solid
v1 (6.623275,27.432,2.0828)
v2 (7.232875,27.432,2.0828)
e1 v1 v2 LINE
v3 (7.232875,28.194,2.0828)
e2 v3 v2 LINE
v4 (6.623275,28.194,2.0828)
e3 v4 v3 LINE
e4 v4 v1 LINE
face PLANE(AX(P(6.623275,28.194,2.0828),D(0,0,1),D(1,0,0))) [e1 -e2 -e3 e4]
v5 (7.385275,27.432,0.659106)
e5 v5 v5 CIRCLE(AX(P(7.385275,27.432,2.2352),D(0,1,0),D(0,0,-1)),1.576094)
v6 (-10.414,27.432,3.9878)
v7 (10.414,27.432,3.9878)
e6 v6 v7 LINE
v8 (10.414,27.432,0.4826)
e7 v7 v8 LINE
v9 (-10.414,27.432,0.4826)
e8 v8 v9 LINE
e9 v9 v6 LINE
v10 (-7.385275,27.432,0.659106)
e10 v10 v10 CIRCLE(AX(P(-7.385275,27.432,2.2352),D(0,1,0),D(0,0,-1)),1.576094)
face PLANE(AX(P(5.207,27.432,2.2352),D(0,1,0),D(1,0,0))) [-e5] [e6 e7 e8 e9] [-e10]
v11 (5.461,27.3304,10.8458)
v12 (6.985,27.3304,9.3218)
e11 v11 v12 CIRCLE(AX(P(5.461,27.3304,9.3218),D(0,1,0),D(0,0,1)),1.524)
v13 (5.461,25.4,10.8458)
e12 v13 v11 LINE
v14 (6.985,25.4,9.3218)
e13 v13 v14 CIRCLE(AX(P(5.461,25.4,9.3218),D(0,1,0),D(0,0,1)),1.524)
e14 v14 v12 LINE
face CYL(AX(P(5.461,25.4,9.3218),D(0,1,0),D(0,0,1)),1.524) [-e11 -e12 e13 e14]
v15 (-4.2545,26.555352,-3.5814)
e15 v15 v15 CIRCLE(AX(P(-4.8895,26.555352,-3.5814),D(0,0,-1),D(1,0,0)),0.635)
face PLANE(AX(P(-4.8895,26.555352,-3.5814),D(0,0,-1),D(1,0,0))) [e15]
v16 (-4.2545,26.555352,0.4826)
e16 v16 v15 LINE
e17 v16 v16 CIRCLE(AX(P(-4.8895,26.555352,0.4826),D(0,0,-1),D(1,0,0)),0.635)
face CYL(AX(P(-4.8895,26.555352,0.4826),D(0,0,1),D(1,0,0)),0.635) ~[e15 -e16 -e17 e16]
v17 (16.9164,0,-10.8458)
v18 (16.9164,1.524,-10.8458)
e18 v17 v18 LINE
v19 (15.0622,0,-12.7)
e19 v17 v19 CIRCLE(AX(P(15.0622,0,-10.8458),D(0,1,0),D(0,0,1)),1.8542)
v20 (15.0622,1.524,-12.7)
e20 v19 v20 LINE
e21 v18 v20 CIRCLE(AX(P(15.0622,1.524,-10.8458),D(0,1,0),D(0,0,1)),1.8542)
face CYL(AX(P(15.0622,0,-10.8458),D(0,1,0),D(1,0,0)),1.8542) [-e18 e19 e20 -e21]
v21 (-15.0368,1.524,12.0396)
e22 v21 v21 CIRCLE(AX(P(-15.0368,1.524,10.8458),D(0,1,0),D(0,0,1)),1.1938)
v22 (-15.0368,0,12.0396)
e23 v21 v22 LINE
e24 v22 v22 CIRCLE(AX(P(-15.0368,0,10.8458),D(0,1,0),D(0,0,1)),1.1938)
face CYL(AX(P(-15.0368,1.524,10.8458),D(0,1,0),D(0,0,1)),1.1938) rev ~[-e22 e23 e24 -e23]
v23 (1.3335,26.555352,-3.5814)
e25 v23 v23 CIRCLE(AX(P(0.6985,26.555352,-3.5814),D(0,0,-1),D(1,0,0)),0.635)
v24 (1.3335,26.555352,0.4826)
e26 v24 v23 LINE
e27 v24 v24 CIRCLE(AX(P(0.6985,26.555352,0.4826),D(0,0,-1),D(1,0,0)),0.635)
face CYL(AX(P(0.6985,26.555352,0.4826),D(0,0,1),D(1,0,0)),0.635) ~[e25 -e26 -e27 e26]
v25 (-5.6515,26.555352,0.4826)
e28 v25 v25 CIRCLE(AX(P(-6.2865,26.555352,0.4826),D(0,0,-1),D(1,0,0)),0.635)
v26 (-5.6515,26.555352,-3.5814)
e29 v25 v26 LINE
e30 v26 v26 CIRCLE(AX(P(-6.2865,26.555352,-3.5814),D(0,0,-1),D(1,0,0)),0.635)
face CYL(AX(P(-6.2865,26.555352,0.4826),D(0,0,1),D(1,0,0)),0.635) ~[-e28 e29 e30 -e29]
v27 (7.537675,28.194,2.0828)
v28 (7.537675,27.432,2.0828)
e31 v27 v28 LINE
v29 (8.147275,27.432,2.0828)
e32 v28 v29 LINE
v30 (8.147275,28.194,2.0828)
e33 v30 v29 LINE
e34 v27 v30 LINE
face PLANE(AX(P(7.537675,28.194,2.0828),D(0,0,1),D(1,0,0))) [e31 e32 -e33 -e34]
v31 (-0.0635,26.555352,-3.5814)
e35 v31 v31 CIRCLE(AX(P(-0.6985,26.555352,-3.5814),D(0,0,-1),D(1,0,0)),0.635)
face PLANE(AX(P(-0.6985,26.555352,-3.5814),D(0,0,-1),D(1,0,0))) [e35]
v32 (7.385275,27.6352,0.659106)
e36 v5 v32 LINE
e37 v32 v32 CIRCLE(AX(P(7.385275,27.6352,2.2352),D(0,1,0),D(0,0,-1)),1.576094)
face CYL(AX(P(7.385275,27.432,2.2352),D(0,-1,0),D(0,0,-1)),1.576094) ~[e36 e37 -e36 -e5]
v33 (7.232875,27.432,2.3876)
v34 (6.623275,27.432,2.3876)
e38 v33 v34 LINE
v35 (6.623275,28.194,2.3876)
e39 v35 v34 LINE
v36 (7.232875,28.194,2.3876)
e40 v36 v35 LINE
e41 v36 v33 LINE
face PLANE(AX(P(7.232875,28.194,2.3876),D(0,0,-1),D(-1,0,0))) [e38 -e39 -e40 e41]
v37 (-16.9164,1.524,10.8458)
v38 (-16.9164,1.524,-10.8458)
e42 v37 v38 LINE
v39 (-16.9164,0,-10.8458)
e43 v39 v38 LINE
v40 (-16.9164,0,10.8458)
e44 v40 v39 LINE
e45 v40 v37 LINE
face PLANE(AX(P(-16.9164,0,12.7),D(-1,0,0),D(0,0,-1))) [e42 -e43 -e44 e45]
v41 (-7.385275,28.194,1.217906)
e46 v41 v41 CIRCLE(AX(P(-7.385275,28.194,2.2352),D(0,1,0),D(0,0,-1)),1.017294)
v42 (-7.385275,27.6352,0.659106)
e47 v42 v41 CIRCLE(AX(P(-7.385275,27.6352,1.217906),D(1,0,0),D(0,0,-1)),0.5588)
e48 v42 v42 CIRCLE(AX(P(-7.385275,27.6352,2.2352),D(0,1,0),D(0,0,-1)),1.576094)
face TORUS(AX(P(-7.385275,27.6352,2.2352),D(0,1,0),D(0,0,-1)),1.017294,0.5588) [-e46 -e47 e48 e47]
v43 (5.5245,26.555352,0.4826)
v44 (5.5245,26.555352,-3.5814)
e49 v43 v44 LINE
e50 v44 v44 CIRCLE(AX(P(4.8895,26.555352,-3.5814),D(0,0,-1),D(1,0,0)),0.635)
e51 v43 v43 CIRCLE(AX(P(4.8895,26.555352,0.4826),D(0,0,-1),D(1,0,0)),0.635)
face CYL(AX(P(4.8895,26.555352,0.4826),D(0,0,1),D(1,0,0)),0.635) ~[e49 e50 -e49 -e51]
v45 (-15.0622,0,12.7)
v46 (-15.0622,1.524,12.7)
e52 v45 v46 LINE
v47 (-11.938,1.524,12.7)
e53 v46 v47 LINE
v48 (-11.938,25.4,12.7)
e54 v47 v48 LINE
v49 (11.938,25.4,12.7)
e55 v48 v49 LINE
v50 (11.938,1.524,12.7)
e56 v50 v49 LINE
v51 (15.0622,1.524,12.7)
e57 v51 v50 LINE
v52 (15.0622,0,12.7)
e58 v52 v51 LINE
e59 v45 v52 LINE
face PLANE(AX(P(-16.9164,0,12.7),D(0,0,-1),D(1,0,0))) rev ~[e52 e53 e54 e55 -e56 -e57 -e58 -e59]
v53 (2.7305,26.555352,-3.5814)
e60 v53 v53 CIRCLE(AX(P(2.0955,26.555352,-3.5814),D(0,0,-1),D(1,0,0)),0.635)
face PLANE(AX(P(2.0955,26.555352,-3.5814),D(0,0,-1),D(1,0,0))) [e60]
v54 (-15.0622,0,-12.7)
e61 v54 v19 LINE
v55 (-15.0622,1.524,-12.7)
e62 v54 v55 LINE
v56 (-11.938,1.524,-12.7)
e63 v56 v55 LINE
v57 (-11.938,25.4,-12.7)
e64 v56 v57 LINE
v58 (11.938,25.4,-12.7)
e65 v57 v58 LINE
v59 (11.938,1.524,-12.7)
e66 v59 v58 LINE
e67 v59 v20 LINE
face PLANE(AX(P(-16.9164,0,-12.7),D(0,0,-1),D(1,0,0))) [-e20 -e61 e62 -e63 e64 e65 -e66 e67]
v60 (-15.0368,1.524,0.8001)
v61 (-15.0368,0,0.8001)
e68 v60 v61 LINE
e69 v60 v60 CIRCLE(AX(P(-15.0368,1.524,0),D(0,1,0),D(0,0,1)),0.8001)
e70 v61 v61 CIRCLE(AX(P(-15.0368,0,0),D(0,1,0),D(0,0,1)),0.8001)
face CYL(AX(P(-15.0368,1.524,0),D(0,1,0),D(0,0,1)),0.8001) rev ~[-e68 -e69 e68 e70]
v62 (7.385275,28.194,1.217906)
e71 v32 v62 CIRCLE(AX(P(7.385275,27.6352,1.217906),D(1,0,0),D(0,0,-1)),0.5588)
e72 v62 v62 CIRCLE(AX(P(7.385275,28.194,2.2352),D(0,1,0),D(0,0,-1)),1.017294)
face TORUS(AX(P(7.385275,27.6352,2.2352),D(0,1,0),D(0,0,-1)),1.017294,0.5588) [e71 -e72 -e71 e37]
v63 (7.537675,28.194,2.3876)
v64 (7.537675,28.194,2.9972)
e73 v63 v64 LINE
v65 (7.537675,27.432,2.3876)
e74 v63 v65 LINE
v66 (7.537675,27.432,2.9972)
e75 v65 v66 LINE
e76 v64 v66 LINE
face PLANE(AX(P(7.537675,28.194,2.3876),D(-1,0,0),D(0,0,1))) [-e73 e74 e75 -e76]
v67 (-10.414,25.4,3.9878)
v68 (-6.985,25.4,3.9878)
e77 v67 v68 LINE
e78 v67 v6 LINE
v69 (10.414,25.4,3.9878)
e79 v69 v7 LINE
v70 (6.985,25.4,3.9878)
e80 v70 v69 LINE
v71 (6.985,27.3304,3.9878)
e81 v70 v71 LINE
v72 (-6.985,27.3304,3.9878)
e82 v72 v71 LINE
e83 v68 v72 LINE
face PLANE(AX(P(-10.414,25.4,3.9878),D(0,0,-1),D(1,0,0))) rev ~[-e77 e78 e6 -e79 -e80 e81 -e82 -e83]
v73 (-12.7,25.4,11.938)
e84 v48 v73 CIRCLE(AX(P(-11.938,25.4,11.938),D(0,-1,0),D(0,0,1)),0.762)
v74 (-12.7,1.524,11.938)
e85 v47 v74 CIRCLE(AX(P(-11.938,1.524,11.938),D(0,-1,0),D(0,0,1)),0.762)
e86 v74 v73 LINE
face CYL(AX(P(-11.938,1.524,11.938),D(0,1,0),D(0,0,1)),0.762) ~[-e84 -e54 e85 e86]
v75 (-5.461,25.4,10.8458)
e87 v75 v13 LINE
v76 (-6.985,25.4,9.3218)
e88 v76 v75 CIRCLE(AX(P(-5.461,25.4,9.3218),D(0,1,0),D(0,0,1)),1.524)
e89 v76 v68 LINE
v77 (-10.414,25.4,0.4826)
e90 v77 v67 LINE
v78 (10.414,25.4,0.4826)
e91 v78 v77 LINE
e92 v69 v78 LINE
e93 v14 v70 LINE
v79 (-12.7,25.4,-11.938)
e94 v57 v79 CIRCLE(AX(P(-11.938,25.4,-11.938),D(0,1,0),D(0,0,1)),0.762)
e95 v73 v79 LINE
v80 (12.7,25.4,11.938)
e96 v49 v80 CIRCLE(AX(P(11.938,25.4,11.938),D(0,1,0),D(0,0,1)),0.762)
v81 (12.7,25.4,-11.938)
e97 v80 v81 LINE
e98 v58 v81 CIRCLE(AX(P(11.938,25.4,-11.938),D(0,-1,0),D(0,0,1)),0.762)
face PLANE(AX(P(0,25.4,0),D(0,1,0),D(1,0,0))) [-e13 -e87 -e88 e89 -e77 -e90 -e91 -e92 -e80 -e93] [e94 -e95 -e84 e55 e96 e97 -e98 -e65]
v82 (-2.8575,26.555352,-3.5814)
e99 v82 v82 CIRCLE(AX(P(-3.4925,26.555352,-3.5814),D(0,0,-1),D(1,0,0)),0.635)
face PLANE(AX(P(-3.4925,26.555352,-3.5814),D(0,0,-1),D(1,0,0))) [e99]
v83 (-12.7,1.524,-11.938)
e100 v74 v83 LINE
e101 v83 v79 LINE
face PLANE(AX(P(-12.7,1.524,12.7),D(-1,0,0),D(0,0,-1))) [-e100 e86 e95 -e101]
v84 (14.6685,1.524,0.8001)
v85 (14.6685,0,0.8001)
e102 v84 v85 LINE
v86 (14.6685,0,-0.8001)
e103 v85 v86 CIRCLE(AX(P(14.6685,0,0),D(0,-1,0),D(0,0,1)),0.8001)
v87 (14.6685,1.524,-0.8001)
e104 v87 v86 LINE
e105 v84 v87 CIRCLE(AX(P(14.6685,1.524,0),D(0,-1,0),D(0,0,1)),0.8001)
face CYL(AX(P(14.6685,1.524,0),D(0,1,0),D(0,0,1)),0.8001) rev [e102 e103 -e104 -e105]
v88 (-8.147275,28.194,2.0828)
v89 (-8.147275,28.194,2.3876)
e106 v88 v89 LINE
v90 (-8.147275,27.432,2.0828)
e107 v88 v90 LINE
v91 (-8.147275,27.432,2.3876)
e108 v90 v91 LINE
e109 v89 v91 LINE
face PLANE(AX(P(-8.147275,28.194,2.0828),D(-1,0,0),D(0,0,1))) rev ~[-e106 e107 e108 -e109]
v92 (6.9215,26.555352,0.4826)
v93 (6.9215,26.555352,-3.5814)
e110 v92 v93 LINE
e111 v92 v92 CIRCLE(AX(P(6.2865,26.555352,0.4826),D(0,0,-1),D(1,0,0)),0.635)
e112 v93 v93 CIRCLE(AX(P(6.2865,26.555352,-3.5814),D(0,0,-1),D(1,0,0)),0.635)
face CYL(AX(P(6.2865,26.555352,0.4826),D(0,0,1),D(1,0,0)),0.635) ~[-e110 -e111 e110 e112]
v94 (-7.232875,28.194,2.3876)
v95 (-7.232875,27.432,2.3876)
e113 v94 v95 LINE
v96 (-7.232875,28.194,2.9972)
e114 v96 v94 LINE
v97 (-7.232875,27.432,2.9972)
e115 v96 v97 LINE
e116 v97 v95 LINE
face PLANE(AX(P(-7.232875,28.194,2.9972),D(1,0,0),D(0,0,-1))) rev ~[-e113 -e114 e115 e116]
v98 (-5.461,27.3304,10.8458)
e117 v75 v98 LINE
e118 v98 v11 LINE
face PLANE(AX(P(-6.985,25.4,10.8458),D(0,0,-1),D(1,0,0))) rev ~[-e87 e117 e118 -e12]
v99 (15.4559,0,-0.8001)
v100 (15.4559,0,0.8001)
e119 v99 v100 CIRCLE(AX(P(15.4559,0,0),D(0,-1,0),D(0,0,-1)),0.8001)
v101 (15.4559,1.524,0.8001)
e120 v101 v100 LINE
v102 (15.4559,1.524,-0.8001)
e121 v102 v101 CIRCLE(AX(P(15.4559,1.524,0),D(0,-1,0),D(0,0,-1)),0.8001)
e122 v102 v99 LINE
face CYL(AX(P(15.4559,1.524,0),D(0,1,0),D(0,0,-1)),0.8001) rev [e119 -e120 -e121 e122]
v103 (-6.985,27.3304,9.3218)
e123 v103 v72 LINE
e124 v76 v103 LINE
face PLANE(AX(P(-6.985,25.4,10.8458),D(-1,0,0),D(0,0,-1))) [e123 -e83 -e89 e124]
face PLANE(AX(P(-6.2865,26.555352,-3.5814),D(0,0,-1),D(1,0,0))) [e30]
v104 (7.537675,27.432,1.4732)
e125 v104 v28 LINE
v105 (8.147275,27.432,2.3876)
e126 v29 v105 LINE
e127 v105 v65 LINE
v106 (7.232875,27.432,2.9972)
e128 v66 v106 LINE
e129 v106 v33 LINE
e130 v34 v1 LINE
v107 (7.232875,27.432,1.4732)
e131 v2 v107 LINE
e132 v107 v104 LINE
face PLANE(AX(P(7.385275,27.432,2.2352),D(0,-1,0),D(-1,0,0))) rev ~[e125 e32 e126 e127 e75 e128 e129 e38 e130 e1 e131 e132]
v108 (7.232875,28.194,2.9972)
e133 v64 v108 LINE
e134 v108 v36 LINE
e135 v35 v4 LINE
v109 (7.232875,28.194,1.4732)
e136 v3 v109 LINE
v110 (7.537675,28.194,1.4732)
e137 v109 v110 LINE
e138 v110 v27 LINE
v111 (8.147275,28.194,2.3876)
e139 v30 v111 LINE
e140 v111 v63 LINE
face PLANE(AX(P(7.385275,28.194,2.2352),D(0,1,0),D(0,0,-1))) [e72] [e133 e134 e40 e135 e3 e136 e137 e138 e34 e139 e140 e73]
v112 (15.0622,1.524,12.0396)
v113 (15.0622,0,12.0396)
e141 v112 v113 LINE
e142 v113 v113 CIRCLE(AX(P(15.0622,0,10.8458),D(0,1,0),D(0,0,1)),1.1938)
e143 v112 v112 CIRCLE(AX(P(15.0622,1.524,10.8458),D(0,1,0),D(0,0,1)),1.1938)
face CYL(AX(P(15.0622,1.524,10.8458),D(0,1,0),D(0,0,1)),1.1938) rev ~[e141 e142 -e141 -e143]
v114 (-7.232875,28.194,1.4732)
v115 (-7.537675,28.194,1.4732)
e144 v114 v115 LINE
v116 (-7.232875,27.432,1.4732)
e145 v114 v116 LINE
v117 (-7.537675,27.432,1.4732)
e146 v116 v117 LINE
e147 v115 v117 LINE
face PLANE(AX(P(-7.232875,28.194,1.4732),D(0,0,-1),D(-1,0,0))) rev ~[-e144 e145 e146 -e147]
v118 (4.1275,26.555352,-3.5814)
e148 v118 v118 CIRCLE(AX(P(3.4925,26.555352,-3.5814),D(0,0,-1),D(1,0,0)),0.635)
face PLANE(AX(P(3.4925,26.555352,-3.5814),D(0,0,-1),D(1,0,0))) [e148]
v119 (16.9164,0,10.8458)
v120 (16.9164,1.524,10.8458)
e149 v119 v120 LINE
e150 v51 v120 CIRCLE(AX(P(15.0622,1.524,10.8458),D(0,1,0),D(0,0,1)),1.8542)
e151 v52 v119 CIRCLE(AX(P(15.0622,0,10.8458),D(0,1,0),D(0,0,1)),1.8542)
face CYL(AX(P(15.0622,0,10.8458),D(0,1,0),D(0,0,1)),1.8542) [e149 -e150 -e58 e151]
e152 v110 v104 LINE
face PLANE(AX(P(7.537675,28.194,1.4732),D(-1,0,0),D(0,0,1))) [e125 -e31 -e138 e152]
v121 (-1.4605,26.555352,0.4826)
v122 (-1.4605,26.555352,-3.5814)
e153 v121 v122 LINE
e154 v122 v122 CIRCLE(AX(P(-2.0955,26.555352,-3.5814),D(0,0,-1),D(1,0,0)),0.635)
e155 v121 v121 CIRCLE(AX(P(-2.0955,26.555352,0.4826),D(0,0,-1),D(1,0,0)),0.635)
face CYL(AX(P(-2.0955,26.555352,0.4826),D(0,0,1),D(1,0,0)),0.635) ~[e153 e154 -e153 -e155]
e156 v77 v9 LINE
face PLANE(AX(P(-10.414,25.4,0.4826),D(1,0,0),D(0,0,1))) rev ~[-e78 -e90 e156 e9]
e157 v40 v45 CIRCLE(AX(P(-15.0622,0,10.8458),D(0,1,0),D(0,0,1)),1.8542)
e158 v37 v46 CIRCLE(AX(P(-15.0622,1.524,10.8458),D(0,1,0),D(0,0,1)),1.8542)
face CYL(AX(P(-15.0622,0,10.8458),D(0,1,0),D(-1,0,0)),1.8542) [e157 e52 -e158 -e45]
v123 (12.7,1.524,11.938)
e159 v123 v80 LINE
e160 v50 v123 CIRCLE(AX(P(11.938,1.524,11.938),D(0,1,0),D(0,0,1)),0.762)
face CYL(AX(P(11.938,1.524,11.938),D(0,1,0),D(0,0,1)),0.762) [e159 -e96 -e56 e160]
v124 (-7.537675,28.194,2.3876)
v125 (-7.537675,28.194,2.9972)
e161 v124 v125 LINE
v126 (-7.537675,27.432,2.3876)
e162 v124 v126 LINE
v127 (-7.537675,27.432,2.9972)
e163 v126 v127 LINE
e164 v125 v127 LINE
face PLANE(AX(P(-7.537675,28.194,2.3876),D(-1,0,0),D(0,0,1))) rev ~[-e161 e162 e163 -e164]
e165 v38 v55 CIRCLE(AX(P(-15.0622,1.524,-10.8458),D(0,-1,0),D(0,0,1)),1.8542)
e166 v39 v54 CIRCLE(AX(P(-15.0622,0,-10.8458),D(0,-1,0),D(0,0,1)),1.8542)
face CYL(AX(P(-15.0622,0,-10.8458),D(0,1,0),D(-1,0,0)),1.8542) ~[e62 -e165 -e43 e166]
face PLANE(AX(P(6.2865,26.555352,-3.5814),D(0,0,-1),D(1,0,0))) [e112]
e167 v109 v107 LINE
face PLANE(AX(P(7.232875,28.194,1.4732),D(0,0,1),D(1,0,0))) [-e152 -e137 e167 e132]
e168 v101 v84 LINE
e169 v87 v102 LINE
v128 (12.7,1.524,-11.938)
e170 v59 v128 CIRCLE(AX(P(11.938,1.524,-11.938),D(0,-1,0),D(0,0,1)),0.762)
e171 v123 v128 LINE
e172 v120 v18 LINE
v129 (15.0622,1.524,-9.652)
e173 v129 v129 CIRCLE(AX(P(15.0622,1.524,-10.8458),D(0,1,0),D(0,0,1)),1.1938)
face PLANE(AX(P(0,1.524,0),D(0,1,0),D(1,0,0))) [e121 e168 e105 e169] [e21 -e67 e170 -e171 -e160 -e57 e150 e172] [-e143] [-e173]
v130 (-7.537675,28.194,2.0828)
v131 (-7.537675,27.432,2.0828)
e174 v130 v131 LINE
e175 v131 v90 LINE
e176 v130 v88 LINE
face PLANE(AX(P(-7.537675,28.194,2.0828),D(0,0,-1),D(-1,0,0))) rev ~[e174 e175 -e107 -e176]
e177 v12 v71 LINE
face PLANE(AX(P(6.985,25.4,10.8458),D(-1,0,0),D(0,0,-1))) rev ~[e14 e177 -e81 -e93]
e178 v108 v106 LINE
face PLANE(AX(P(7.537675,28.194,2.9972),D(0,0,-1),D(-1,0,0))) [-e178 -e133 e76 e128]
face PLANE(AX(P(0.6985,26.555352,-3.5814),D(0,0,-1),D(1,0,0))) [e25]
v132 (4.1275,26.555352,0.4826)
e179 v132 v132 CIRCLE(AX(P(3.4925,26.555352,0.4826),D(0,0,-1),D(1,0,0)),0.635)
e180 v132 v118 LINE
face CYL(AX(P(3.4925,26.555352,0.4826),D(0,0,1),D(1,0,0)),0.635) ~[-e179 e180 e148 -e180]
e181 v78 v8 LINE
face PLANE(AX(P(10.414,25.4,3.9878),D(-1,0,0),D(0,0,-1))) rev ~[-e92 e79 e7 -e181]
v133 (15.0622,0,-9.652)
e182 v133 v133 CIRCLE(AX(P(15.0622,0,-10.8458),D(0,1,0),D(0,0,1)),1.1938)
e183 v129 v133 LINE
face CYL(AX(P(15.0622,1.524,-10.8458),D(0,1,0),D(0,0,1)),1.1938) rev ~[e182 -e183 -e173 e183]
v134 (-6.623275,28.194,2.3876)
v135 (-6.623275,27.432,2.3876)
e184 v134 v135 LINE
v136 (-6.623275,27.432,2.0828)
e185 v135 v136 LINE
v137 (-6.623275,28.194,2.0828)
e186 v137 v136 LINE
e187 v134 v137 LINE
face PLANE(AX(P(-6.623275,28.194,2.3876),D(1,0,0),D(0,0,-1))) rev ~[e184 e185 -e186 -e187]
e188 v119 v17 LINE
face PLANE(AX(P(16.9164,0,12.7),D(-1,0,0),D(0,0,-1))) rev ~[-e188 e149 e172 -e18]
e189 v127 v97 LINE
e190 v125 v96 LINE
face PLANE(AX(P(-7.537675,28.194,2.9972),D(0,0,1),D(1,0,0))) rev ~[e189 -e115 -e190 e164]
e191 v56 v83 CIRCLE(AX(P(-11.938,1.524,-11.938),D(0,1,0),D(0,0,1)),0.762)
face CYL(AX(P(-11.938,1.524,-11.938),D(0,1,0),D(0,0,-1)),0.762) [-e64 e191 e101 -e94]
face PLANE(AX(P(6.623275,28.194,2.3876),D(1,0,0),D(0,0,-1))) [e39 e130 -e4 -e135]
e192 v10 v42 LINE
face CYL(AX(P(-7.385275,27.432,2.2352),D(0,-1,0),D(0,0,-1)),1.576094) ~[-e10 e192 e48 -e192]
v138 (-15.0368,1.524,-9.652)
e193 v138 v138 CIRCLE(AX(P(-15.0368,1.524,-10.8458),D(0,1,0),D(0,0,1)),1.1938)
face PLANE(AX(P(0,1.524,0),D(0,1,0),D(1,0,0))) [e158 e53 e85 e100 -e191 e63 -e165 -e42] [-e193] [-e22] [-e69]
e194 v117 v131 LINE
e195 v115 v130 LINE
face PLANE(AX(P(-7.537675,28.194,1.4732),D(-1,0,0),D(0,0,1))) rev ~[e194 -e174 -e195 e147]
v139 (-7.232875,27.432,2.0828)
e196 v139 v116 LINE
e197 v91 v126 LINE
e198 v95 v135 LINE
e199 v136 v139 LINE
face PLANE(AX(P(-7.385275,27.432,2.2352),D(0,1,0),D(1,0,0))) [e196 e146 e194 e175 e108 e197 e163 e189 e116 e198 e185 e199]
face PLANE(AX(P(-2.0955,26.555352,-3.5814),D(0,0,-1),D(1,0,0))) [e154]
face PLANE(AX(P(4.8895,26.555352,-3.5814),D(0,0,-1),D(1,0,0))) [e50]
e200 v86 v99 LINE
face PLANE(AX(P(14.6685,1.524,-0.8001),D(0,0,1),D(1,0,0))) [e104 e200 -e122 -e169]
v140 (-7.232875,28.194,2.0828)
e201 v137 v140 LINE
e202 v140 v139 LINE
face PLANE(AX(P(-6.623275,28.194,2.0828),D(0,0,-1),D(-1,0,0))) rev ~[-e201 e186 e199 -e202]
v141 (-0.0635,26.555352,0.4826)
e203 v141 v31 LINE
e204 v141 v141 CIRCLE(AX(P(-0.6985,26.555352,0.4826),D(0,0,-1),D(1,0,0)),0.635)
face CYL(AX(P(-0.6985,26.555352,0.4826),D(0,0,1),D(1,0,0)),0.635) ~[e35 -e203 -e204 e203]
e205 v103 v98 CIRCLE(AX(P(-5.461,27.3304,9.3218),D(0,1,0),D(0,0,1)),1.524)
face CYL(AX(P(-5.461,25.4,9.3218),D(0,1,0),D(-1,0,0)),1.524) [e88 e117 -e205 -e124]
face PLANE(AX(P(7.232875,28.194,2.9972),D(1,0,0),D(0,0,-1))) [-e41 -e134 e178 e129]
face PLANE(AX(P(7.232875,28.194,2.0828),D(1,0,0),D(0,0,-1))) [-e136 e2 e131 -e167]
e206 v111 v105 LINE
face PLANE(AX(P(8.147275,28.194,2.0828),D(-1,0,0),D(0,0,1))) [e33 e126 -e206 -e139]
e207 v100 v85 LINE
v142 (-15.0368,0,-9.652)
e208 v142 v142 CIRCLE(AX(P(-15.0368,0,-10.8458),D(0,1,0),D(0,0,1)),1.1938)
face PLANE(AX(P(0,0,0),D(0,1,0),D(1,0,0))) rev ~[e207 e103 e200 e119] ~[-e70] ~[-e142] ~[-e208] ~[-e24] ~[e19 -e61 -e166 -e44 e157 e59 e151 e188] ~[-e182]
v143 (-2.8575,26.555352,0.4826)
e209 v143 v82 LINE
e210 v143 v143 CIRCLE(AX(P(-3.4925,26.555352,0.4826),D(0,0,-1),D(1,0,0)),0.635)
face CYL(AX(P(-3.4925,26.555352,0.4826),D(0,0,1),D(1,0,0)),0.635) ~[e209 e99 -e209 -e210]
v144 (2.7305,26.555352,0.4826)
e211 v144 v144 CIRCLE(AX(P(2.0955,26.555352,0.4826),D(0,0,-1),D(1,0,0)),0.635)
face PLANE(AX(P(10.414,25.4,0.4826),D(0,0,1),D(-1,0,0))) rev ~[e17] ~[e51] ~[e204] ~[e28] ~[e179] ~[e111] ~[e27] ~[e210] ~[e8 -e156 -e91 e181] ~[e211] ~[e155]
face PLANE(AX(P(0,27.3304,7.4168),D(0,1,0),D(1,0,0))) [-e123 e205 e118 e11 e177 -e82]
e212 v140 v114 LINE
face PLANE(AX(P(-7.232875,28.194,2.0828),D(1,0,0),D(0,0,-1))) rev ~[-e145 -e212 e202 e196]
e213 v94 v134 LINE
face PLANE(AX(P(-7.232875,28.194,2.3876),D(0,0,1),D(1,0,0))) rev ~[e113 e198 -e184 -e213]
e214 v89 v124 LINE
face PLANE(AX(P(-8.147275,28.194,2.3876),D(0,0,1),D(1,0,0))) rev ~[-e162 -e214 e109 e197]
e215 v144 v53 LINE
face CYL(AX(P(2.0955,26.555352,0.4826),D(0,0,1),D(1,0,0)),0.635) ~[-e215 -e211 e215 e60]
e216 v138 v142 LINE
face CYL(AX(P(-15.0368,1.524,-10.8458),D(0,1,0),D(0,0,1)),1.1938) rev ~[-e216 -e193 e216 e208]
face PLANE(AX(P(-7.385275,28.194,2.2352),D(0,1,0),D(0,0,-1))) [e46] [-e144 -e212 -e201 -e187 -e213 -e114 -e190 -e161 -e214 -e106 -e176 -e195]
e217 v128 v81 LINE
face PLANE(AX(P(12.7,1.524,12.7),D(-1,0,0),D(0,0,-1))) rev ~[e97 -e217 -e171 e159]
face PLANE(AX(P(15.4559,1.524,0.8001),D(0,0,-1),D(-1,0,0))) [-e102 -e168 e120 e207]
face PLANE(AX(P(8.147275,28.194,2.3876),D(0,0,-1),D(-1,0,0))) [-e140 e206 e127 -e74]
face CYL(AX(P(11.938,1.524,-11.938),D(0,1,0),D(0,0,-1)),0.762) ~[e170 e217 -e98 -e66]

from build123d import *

# Parameters (mm, degrees)
SKETCH1_W           = 33.8328
SKETCH1_H           = 25.4
BOSS_EXTRUDE1_DEPTH = 1.524
FILLET1_R           = 1.8542
SKETCH2_R           = 1.1938
SKETCH2_R_2         = 0.8001
CUT_EXTRUDE1_DEPTH  = 1.524
SKETCH3_W           = 25.4
SKETCH3_H           = 25.4
BOSS_EXTRUDE2_DEPTH = 23.876
FILLET2_R           = 0.762
BOSS_EXTRUDE3_DEPTH = 2.032
SKETCH5_W           = 13.97
SKETCH5_H           = 6.858
BOSS_EXTRUDE4_DEPTH = 1.9304
FILLET3_R           = 1.524
SKETCH6_R           = 0.635
BOSS_EXTRUDE5_DEPTH = 4.064
SKETCH7_R           = 1.576094172
BOSS_EXTRUDE6_DEPTH = 0.762
FILLET4_R           = 0.5588
CUT_EXTRUDE2_DEPTH  = 0.762


with BuildPart() as part:
    # Sketch1 → Boss-Extrude1 (new body)
    with BuildSketch(Plane(origin=(0, 0, 0), x_dir=(1, 0, 0), z_dir=(0, 1, 0))):
        Rectangle(SKETCH1_W, SKETCH1_H)
    extrude(amount=BOSS_EXTRUDE1_DEPTH)

    # Fillet1
    fillet1_edges = [part.edges().sort_by_distance(p)[0] for p in [
        (16.9164, 0.762, 12.7),
        (-16.9164, 0.762, 12.7),
        (-16.9164, 0.762, -12.7),
        (16.9164, 0.762, -12.7),
    ]]
    fillet(fillet1_edges, radius=FILLET1_R)

    # Sketch2 → Cut-Extrude1 (cut)
    with BuildSketch(Plane(origin=(0, 1.524, 0), x_dir=(1, 0, 0), z_dir=(0, 1, 0))):
        with Locations(Location((15.0622, -10.8458, 0), (0, 0, 270))):
            Circle(SKETCH2_R)
        with Locations(Location((15.0622, 10.8458, 0), (0, 0, 270))):
            Circle(SKETCH2_R)
        with Locations(Location((-15.0368, 10.8458, 0), (0, 0, 270))):
            Circle(SKETCH2_R)
        with Locations(Location((-15.0368, -10.8458, 0), (0, 0, 270))):
            Circle(SKETCH2_R)
        with Locations(Location((-15.0368, 0, 0), (0, 0, 270))):
            Circle(SKETCH2_R_2)
        with BuildLine():
            Line((15.4559, -0.8001), (14.6685, -0.8001))
            ThreePointArc((14.6685, -0.8001), (13.8684, 0), (14.6685, 0.8001))
            Line((14.6685, 0.8001), (15.4559, 0.8001))
            ThreePointArc((15.4559, 0.8001), (16.256, 0), (15.4559, -0.8001))
        make_face()
    extrude(amount=-CUT_EXTRUDE1_DEPTH, mode=Mode.SUBTRACT)

    # Sketch3 → Boss-Extrude2 (add)
    with BuildSketch(Plane(origin=(0, 1.524, 0), x_dir=(1, 0, 0), z_dir=(0, 1, 0))):
        Rectangle(SKETCH3_W, SKETCH3_H)
    extrude(amount=BOSS_EXTRUDE2_DEPTH)

    # Fillet2
    fillet2_edges = [part.edges().sort_by_distance(p)[0] for p in [
        (12.7, 13.462, 12.7),
        (-12.7, 13.462, 12.7),
        (-12.7, 13.462, -12.7),
        (12.7, 13.462, -12.7),
    ]]
    fillet(fillet2_edges, radius=FILLET2_R)

    # Sketch4 → Boss-Extrude3 (add)
    with BuildSketch(Plane(origin=(0, 25.4, 0), x_dir=(1, 0, 0), z_dir=(0, 1, 0))):
        Polygon((0, -0.4826), (0, -3.9878), (6.985, -3.9878), (10.414, -3.9878), (10.414, -0.4826), align=None)
        Polygon((-6.985, -3.9878), (0, -3.9878), (0, -0.4826), (-10.414, -0.4826), (-10.414, -3.9878), align=None)
    extrude(amount=BOSS_EXTRUDE3_DEPTH)

    # Sketch5 → Boss-Extrude4 (add)
    with BuildSketch(Plane(origin=(0, 25.4, 0), x_dir=(1, 0, 0), z_dir=(0, 1, 0))):
        with Locations((0, -7.4168)):
            Rectangle(SKETCH5_W, SKETCH5_H)
    extrude(amount=BOSS_EXTRUDE4_DEPTH)

    # Fillet3
    fillet3_edges = [part.edges().sort_by_distance(p)[0] for p in [
        (6.985, 26.3652, 10.8458),
        (-6.985, 26.3652, 10.8458),
    ]]
    fillet(fillet3_edges, radius=FILLET3_R)

    # Sketch6 → Boss-Extrude5 (add)
    with BuildSketch(Plane(origin=(0, 0, 0.4826), x_dir=(-1, 0, 0), z_dir=(0, 0, -1))):
        with Locations(Location((-4.8895, 26.555352192, 0), (0, 0, 180))):
            Circle(SKETCH6_R)
        with Locations(Location((3.4925, 26.555352192, 0), (0, 0, 180))):
            Circle(SKETCH6_R)
        with Locations(Location((4.8895, 26.555352192, 0), (0, 0, 180))):
            Circle(SKETCH6_R)
        with Locations(Location((2.0955, 26.555352192, 0), (0, 0, 180))):
            Circle(SKETCH6_R)
        with Locations(Location((-2.0955, 26.555352192, 0), (0, 0, 180))):
            Circle(SKETCH6_R)
        with Locations(Location((0.6985, 26.555352192, 0), (0, 0, 180))):
            Circle(SKETCH6_R)
        with Locations(Location((-3.4925, 26.555352192, 0), (0, 0, 180))):
            Circle(SKETCH6_R)
        with Locations(Location((-0.6985, 26.555352192, 0), (0, 0, 180))):
            Circle(SKETCH6_R)
        with Locations(Location((-6.2865, 26.555352192, 0), (0, 0, 180))):
            Circle(SKETCH6_R)
        with Locations(Location((6.2865, 26.555352192, 0), (0, 0, 180))):
            Circle(SKETCH6_R)
    extrude(amount=BOSS_EXTRUDE5_DEPTH)

    # Sketch7 → Boss-Extrude6 (add)
    with BuildSketch(Plane(origin=(0, 27.432, 0), x_dir=(1, 0, 0), z_dir=(0, 1, 0))):
        with Locations(Location((7.385275371, -2.2352, 0), (0, 0, 90))):
            Circle(SKETCH7_R)
        with Locations(Location((-7.385275371, -2.2352, 0), (0, 0, 90))):
            Circle(SKETCH7_R)
    extrude(amount=BOSS_EXTRUDE6_DEPTH)

    # Fillet4
    fillet4_edges = [part.edges().sort_by_distance(p)[0] for p in [
        (7.385275371, 28.194, 3.811294172),
        (-7.385275371, 28.194, 3.811294172),
    ]]
    fillet(fillet4_edges, radius=FILLET4_R)

    # Sketch8 → Cut-Extrude2 (cut)
    with BuildSketch(Plane(origin=(0, 28.194, 0), x_dir=(1, 0, 0), z_dir=(0, 1, 0))):
        Polygon((7.537675371, -1.4732), (7.537675371, -2.0828), (8.147275371, -2.0828), (8.147275371, -2.3876), (7.537675371, -2.3876), (7.537675371, -2.9972), (7.232875371, -2.9972), (7.232875371, -2.3876), (6.623275371, -2.3876), (6.623275371, -2.0828), (7.232875371, -2.0828), (7.232875371, -1.4732), align=None)
        Polygon((-7.232875371, -2.3876), (-6.623275371, -2.3876), (-6.623275371, -2.0828), (-7.232875371, -2.0828), (-7.232875371, -1.4732), (-7.537675371, -1.4732), (-7.537675371, -2.0828), (-8.147275371, -2.0828), (-8.147275371, -2.3876), (-7.537675371, -2.3876), (-7.537675371, -2.9972), (-7.232875371, -2.9972), align=None)
    extrude(amount=-CUT_EXTRUDE2_DEPTH, mode=Mode.SUBTRACT)


solid = part.part
